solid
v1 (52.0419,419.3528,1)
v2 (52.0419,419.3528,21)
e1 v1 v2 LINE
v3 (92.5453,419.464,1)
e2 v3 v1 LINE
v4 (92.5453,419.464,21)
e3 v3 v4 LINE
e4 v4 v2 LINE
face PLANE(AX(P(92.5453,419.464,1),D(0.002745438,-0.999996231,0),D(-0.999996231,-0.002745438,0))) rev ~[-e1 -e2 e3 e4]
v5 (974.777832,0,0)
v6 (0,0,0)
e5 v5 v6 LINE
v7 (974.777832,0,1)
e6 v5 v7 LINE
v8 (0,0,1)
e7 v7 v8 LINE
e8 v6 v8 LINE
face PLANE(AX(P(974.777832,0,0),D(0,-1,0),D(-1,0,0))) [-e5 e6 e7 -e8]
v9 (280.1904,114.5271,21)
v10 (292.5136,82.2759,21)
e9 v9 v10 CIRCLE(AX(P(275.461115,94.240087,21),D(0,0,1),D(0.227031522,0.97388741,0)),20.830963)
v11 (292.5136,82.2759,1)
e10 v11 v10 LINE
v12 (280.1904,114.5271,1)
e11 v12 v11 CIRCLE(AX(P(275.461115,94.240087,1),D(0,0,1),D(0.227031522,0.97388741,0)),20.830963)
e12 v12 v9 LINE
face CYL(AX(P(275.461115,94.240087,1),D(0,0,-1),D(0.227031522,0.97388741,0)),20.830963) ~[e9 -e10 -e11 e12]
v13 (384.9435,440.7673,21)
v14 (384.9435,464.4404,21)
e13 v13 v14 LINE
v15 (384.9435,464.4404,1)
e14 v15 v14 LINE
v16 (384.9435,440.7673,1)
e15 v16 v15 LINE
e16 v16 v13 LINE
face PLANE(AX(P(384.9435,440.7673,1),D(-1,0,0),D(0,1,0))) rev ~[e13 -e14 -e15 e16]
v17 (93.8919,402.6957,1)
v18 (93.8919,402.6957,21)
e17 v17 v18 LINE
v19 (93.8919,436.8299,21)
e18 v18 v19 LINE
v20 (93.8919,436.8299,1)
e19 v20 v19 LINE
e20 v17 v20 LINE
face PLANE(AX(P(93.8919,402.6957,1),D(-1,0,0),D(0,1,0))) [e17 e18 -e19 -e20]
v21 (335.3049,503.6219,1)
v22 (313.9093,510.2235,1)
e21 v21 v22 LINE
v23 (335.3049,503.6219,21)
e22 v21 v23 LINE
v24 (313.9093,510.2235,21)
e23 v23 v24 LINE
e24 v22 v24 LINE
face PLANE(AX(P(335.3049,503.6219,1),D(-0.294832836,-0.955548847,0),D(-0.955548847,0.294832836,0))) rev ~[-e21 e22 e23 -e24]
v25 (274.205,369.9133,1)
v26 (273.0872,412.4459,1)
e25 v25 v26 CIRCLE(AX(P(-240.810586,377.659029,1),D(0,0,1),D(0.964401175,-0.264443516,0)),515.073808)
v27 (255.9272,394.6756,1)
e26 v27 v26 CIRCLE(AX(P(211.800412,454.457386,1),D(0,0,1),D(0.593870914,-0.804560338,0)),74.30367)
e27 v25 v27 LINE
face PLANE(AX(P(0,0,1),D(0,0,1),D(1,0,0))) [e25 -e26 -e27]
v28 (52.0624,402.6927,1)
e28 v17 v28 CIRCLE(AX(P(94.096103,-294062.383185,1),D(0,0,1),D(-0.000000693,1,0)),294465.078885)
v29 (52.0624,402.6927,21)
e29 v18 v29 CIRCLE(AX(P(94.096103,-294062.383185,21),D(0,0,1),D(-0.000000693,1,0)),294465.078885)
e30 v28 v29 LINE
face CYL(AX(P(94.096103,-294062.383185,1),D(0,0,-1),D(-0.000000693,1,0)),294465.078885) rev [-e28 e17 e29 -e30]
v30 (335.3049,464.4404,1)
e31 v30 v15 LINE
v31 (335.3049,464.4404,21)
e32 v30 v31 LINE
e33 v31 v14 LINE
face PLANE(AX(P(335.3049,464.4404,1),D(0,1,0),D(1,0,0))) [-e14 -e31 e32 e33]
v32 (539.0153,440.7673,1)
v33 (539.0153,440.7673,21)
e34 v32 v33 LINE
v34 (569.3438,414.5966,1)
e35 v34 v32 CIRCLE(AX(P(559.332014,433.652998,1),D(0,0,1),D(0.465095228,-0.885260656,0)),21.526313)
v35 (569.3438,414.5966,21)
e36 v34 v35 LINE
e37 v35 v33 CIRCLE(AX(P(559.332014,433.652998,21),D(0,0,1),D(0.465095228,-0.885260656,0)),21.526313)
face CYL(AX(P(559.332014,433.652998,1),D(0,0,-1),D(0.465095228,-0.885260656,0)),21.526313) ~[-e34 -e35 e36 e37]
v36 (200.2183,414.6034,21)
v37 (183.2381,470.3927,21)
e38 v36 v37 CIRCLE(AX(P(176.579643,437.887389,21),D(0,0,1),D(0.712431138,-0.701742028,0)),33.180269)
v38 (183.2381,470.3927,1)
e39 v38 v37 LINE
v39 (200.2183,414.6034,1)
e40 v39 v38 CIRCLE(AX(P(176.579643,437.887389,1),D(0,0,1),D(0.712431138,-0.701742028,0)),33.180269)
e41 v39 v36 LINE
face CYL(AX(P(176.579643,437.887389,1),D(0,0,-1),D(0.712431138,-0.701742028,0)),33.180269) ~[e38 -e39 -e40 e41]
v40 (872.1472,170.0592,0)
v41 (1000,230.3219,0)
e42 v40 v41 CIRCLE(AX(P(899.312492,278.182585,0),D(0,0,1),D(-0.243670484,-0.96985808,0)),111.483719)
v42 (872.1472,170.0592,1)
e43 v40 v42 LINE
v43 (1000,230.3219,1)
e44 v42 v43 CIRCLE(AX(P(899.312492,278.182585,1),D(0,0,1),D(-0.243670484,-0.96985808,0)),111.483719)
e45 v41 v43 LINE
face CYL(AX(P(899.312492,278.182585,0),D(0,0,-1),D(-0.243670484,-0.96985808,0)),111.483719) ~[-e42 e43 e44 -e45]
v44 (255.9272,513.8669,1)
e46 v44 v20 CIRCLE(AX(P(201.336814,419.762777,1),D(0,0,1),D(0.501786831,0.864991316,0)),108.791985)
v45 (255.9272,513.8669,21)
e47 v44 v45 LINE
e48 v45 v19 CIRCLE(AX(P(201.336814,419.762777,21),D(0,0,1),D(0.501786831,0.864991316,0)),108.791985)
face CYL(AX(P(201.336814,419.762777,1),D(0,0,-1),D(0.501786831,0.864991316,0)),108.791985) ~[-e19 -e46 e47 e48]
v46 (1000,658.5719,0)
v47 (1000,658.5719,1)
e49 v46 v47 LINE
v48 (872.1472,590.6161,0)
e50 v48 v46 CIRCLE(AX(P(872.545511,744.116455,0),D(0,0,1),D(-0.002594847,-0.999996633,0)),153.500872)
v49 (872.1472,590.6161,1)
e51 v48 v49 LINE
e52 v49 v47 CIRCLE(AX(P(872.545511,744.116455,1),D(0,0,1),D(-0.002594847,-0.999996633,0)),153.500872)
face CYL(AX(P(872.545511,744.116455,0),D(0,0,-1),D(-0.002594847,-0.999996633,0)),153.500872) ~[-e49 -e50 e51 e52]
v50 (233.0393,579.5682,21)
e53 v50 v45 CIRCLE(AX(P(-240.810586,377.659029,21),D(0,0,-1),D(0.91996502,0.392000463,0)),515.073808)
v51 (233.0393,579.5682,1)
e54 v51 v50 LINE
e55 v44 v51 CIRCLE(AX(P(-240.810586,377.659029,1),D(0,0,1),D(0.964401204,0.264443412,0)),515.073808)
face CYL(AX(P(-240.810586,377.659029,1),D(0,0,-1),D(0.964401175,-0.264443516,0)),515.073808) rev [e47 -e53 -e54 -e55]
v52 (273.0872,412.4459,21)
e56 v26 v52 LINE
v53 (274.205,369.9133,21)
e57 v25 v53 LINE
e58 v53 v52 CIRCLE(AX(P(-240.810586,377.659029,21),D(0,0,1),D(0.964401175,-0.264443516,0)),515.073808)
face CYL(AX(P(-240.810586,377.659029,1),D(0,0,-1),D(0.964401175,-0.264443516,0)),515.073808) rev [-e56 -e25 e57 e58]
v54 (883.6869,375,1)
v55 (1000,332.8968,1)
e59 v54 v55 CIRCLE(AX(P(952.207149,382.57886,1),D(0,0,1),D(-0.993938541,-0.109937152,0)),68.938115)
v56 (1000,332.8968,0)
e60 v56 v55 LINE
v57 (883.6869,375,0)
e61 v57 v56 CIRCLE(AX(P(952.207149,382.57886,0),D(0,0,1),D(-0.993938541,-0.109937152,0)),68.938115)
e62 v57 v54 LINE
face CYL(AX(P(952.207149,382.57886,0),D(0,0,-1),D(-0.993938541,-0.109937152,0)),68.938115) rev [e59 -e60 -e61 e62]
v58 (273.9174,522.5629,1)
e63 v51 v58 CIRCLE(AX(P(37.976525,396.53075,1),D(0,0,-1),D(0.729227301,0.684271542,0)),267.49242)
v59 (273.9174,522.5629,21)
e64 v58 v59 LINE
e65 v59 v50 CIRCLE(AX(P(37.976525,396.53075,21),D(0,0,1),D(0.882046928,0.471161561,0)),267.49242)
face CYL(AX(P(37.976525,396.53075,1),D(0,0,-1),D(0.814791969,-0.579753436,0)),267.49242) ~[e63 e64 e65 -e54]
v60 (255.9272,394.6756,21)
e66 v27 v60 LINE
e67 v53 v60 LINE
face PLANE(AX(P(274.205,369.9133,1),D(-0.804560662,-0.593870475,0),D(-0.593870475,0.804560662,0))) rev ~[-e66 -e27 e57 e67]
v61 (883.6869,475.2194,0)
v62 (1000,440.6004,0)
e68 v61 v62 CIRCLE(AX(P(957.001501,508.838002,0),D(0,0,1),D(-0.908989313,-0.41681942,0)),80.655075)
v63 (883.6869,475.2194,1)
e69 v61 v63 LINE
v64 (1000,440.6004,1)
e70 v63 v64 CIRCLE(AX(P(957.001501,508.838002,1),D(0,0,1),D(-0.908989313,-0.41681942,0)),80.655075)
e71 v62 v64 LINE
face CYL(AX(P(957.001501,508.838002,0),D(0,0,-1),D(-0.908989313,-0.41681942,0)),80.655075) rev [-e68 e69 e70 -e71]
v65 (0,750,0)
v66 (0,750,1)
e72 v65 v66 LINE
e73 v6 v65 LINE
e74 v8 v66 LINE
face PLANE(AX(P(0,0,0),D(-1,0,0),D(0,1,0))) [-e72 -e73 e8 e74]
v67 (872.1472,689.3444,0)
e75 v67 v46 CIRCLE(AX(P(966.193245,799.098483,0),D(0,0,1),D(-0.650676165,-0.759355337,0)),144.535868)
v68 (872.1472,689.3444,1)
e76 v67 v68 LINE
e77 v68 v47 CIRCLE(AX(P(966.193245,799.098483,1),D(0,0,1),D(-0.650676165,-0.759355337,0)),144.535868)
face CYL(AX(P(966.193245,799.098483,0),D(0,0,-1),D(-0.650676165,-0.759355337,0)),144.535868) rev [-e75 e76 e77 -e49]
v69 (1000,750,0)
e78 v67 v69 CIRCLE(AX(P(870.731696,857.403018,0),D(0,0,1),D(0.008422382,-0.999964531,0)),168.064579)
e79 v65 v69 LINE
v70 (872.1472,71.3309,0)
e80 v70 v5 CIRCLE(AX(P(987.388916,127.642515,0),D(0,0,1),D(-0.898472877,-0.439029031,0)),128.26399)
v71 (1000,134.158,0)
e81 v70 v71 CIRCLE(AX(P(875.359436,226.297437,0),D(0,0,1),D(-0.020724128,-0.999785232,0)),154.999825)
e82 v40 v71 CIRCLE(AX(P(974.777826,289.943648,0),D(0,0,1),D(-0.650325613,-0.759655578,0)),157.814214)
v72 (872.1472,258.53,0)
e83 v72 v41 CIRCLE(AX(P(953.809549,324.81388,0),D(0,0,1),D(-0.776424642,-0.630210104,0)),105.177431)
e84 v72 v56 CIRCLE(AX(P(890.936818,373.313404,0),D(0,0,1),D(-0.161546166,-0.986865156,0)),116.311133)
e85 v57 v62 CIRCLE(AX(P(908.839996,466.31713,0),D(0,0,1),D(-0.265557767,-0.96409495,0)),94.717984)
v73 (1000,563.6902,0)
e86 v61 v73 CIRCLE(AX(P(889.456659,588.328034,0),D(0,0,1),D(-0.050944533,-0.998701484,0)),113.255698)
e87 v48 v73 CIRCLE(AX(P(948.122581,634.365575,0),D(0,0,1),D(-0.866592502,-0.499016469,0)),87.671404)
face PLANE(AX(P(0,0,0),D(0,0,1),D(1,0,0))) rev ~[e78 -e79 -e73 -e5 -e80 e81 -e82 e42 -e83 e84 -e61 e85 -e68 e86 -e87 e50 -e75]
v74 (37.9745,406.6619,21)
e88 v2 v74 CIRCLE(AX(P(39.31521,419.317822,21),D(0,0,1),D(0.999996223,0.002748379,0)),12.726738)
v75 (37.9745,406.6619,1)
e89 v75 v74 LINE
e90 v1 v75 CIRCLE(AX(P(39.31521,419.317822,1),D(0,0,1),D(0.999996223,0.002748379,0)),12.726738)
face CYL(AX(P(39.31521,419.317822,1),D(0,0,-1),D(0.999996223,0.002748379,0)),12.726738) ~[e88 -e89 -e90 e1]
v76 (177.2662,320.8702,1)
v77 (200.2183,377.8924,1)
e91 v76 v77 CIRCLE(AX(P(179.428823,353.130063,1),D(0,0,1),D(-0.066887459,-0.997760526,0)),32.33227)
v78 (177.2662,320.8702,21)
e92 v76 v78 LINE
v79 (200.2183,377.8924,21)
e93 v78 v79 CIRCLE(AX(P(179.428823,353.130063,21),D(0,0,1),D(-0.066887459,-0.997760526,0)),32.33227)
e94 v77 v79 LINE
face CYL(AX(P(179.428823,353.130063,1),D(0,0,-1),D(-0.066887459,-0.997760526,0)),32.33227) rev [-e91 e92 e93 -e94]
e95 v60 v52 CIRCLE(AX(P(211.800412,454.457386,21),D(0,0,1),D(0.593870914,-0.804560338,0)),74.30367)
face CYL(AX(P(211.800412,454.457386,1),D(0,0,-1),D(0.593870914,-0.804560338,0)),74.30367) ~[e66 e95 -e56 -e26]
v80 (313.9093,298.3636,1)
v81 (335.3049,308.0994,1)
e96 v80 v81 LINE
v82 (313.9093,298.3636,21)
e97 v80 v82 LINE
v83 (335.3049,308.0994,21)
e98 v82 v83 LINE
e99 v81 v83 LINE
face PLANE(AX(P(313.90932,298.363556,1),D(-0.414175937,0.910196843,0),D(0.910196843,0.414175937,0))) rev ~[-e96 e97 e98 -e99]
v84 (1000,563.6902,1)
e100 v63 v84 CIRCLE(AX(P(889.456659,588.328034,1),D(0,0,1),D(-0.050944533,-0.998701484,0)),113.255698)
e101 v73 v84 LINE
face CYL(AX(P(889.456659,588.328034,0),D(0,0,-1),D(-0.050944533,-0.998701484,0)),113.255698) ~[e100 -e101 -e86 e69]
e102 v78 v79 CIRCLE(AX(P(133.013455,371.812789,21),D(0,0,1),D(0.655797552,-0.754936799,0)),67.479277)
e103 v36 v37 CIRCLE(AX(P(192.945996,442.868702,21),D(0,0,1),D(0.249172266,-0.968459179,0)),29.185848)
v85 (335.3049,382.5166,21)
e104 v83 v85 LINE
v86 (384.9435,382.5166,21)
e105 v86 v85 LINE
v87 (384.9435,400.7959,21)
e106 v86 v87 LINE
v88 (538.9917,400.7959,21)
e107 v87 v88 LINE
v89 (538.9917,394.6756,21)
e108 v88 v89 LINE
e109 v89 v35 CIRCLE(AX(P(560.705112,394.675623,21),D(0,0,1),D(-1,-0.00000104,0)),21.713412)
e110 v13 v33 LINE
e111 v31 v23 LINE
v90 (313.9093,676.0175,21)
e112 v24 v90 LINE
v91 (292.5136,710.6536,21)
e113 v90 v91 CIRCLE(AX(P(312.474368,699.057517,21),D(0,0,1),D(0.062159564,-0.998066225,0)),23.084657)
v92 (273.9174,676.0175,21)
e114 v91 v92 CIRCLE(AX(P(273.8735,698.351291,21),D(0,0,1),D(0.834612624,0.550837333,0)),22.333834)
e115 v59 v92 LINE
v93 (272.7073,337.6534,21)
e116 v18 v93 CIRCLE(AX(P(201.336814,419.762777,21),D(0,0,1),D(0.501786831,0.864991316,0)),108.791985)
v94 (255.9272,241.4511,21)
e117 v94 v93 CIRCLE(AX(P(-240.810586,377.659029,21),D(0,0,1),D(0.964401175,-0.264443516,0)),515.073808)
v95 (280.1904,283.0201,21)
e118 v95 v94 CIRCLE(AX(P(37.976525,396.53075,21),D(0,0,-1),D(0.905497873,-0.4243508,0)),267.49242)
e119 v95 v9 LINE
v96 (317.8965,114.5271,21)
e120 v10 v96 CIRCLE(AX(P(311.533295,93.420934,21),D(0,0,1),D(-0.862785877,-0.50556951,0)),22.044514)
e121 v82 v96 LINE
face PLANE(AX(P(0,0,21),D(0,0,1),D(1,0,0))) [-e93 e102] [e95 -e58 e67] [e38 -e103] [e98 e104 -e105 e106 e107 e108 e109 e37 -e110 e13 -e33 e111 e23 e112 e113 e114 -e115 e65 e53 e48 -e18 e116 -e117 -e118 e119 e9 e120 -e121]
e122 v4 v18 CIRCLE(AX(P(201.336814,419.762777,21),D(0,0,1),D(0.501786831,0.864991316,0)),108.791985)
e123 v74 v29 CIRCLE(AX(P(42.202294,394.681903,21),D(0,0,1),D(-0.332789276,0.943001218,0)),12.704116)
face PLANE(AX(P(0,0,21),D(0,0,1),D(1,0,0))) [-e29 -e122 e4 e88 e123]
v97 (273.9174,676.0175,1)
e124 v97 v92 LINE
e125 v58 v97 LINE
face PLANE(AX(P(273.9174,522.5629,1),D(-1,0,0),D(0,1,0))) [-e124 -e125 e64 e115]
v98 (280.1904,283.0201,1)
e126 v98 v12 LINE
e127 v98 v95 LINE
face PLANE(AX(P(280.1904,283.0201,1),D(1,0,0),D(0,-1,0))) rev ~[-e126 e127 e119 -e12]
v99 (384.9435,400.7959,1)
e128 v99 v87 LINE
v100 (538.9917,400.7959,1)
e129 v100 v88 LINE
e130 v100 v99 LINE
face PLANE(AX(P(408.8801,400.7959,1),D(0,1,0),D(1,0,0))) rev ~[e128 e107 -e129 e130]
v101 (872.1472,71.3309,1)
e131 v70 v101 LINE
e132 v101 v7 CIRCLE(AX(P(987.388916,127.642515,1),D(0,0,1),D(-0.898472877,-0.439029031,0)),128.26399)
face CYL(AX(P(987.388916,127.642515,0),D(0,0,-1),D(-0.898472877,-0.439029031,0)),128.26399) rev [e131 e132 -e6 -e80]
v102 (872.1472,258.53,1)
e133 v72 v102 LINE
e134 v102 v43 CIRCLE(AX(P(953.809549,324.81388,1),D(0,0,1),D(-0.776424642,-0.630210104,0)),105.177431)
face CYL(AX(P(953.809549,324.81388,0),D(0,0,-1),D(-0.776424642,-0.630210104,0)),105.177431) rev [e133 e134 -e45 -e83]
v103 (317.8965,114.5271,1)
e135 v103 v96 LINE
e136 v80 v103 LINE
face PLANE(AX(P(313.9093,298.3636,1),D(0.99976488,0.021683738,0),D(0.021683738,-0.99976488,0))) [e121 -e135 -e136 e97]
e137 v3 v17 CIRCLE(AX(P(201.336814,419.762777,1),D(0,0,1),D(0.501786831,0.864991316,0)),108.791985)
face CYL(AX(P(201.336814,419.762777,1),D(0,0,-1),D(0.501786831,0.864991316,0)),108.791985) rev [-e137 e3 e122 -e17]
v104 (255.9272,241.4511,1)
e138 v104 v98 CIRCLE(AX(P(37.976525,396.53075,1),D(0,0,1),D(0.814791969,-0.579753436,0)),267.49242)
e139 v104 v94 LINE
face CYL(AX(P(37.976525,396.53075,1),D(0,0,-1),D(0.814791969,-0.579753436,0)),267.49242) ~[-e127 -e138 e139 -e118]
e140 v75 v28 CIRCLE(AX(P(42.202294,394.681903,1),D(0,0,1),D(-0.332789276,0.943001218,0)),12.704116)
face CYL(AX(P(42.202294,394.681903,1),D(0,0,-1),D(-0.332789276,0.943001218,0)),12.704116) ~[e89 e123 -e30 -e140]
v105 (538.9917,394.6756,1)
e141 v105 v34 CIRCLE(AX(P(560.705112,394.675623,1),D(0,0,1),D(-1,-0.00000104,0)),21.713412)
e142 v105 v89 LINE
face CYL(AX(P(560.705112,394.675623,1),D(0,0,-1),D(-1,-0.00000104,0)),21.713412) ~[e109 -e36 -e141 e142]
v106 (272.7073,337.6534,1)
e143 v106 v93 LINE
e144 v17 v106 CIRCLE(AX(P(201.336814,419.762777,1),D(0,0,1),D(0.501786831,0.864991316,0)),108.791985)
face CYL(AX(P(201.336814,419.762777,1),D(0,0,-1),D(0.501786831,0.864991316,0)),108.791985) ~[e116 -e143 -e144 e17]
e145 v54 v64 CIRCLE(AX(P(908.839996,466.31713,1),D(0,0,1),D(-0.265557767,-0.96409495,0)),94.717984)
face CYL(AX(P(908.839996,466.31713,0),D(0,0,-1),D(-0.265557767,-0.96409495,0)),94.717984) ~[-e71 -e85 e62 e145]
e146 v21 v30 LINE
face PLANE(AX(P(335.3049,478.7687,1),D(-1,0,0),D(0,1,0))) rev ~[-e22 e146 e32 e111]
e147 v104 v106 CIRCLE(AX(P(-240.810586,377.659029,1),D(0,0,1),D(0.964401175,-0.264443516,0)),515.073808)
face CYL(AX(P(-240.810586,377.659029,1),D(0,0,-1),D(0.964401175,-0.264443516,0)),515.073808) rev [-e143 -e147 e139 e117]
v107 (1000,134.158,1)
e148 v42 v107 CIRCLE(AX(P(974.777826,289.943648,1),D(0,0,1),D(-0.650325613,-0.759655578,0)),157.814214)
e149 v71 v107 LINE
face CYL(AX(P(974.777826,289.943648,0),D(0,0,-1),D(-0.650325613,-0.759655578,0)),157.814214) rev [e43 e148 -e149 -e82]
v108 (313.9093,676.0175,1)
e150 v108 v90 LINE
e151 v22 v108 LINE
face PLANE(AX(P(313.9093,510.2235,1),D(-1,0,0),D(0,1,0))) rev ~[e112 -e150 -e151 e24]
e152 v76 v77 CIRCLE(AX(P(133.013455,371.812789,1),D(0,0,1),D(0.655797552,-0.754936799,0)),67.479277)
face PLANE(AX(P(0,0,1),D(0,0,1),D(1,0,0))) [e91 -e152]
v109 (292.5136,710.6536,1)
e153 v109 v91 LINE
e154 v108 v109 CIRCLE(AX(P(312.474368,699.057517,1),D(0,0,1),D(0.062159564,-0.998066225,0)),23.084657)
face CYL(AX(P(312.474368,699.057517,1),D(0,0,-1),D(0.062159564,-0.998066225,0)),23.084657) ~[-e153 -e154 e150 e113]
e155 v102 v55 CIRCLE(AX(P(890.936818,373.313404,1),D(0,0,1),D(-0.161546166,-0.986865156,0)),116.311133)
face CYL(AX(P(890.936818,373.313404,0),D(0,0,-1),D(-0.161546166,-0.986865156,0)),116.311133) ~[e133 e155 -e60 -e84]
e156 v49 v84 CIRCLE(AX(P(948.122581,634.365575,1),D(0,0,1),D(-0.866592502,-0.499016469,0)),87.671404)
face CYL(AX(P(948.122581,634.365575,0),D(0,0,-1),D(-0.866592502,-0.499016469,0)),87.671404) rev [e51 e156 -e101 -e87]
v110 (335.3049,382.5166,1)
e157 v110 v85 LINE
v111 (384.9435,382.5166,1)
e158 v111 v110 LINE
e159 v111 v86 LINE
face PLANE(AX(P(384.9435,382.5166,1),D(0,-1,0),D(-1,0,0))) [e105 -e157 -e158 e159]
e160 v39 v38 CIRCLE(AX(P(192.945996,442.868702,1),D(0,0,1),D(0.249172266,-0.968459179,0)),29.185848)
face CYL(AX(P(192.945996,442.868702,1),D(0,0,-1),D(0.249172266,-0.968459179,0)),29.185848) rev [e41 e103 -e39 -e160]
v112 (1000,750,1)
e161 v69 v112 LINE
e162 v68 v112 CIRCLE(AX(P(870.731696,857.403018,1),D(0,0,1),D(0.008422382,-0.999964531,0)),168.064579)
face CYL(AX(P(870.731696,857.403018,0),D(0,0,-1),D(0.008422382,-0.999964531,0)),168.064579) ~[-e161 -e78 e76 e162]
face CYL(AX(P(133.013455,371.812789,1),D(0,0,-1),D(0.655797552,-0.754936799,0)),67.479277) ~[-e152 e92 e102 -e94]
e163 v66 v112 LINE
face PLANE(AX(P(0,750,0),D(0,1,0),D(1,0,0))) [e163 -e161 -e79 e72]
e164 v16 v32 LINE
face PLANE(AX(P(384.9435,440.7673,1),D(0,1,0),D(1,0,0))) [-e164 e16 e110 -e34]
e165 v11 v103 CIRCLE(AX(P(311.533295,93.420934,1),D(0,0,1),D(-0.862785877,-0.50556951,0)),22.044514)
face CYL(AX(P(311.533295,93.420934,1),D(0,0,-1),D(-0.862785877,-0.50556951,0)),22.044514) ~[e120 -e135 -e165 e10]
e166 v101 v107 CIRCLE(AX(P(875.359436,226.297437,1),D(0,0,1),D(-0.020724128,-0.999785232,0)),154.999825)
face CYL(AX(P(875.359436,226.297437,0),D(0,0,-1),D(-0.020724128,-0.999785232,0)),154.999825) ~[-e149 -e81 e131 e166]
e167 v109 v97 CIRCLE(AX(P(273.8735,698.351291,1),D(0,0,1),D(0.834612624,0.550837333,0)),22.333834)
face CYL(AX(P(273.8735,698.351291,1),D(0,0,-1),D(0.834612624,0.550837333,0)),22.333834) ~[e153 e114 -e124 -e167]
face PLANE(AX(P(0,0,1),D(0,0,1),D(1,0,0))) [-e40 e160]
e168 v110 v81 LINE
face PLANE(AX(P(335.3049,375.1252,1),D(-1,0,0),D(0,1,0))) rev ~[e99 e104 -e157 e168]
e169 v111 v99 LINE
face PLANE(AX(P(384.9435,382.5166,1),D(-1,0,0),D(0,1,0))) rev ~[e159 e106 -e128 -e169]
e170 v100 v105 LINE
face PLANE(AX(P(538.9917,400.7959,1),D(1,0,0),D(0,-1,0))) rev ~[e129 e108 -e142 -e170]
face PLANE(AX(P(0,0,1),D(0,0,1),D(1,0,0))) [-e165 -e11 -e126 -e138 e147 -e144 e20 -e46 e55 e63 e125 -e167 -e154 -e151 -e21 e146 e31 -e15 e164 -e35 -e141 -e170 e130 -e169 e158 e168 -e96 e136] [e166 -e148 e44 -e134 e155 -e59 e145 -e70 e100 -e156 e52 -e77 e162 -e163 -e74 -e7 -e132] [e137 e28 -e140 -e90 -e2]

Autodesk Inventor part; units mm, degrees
ref_plane "YZ Plane" through (0, 0, 0) normal (1, 0, 0) x (0, 1, 0)
ref_plane "XZ Plane" through (0, 0, 0) normal (0, 1, 0) x (-1, 0, 0)
ref_plane "XY Plane" through (0, 0, 0) normal (0, 0, 1) x (1, 0, 0)
sketch "Sketch1" plane through (0, 0, 0) normal (0, 0, 1) x (1, 0, 0)
  point P0 (0, 0)
sketch "Sketch2" plane through (0, 0, 0) normal (0, 0, 1) x (1, 0, 0)
  line L0 (0, 0) -> (0, 750)
  line L1 (0, 750) -> (1000, 750)
  line L2 (1000, 0) -> (0, 0)
  arc A0 (872.1472, 689.3444) -> (1000, 750) centre (870.7317, 857.403) ccw
  arc A1 (872.1472, 689.3444) -> (1000, 658.5719) centre (966.1931, 799.0982) ccw
  arc A2 (872.1472, 590.6161) -> (1000, 658.5719) centre (872.5455, 744.1165) ccw
  arc A3 (872.1472, 590.6161) -> (1000, 563.6902) centre (948.1226, 634.3656) ccw
  arc A4 (883.6869, 475.2194) -> (1000, 563.6902) centre (889.4567, 588.3279) ccw
  arc A5 (883.6869, 475.2194) -> (1000, 440.6004) centre (957.0015, 508.838) ccw
  arc A6 (883.6869, 375) -> (1000, 440.6004) centre (908.84, 466.3171) ccw
  arc A7 (883.6869, 375) -> (1000, 332.8968) centre (952.2072, 382.5789) ccw
  arc A8 (872.1472, 258.53) -> (1000, 332.8968) centre (890.9368, 373.3135) ccw
  arc A9 (872.1472, 258.53) -> (1000, 230.3219) centre (953.8095, 324.8138) ccw
  arc A10 (872.1472, 170.0592) -> (1000, 230.3219) centre (899.3125, 278.1825) ccw
  arc A11 (872.1472, 170.0592) -> (1000, 134.158) centre (974.7778, 289.9436) ccw
  arc A12 (872.1472, 71.3309) -> (1000, 134.158) centre (875.3594, 226.2976) ccw
  arc A13 (872.1472, 71.3309) -> (1000, 0) centre (987.3889, 127.6425) ccw
  point P0 (974.7778, 0)
  dimension "d0" = 1000
  dimension "d1" = 750
extrude "Extrusion1" add sketch "Sketch2" along normal blind 1 contours L0 L1 A0 A1 A2 A3 A4 A5 A6 A7 A8 A9 A10 A11 A12 A13 L2
sketch "Sketch3" plane through (0, 0, 1) normal (0, 0, 1) x (1, 0, 0)
  arc A0 (255.9272, 241.4511) -> (233.0393, 579.5682) centre (37.9767, 396.5307) ccw
  arc A1 (255.9272, 241.4511) -> (233.0393, 579.5682) centre (-240.8103, 377.659) ccw
  line L0 (271.4534, 431.3865) -> (273.9174, 432.6014)
  line L1 (280.1904, 283.0201) -> (335.3049, 308.0994)
  line L2 (335.3049, 308.0994) -> (335.3049, 503.6219)
  line L3 (335.3049, 503.6219) -> (273.9174, 522.5629)
  line L4 (304.6112, 375.1252) -> (335.3049, 375.1252)
  line L5 (304.8582, 414.5966) -> (335.3049, 414.5966)
  line L6 (300.4881, 447.9105) -> (335.3049, 454.725)
  line L7 (300.4881, 345.151) -> (335.3049, 345.151)
  line L8 (335.3049, 308.0994) -> (290.4287, 308.0994)
  line L9 (335.3049, 478.7687) -> (292.5136, 478.7687)
  line L10 (398.8359, 328.3286) -> (401.8332, 328.3268)
  line L11 (401.8332, 328.3678) -> (401.8332, 328.3268)
  line L12 (335.3049, 464.4404) -> (384.9435, 464.4404)
  line L13 (384.9435, 464.4404) -> (384.9435, 464.4404)
  line L14 (384.9435, 382.5166) -> (335.3049, 382.5166)
  line L15 (384.9435, 382.5166) -> (384.9435, 464.4404)
  line L16 (273.9174, 522.5629) -> (273.9174, 676.0175)
  line L17 (313.9093, 510.2235) -> (313.9093, 676.0175)
  line L18 (280.1904, 283.0201) -> (280.1904, 114.5271)
  line L19 (313.9093, 298.3636) -> (317.8965, 114.5271)
  line L20 (384.9435, 440.7673) -> (539.0153, 440.7673)
  line L21 (384.9435, 400.7959) -> (538.9917, 400.7959)
  line L22 (538.9917, 400.7959) -> (538.9917, 394.6756)
  arc A2 (292.5136, 710.6536) -> (273.9174, 676.0175) centre (273.8735, 698.3513) ccw
  arc A3 (313.9093, 676.0175) -> (292.5136, 710.6536) centre (312.4744, 699.0575) ccw
  arc A4 (280.1904, 114.5271) -> (292.5136, 82.2759) centre (275.4611, 94.2401) ccw
  arc A5 (292.5136, 82.2759) -> (317.8965, 114.5271) centre (311.5333, 93.421) ccw
  arc A6 (569.3438, 414.5966) -> (539.0153, 440.7673) centre (559.332, 433.653) ccw
  arc A7 (538.9917, 394.6756) -> (569.3438, 414.5966) centre (560.7051, 394.6756) ccw
  arc A8 (119.3978, 413.2034) -> (119.4326, 412.4736) centre (255.9272, 419.3527) ccw
  arc A9 (408.8801, 400.7959) -> (409.9282, 414.5966) centre (255.9272, 419.3527) ccw
  arc A10 (239.4049, 572.5387) -> (236.132, 572.1502) centre (255.9272, 419.3527) ccw
  arc A11 (271.4961, 266.0669) -> (273.9174, 266.3322) centre (255.9272, 419.3527) ccw
  arc A12 (255.9272, 513.8669) -> (272.7073, 337.6534) centre (201.3368, 419.7628) ccw
  arc A13 (177.2662, 320.8702) -> (200.2183, 377.8924) centre (133.0133, 371.8129) ccw
  arc A14 (177.2662, 320.8702) -> (200.2183, 377.8924) centre (179.4288, 353.1301) ccw
  arc A15 (200.2183, 414.6034) -> (183.2381, 470.3927) centre (176.5796, 437.8874) ccw
  arc A16 (200.2183, 414.6034) -> (183.2381, 470.3927) centre (192.946, 442.8687) ccw
  line L23 (274.205, 369.9133) -> (255.9272, 394.6756)
  arc A17 (255.9272, 394.6756) -> (273.0872, 412.4459) centre (211.8011, 454.4566) ccw
  line L24 (92.5453, 419.464) -> (52.0419, 419.3528)
  line L25 (52.0419, 419.3528) -> (52.0586, 413.2472)
  line L26 (93.8919, 402.6957) -> (93.8919, 436.8299)
  arc A18 (93.8919, 402.6957) -> (52.0624, 402.6927) centre (93.8919, -288422.4778) ccw
  line L27 (52.0624, 402.6927) -> (52.0624, 402.6927)
  arc A19 (37.9745, 406.6619) -> (52.0624, 402.6927) centre (42.2022, 394.6819) ccw
  arc A20 (52.0419, 419.3528) -> (37.9745, 406.6619) centre (39.3152, 419.3178) ccw
  point P0 (0, 0)
extrude "Extrusion2" add sketch "Sketch3" along normal blind 20 contours A1 A10 A0 | A12 L26 A1 A17 L23 | A0 L8 L1 | L1 L19 A5 A4 L18 | A18 A19 A20 L24 A12 | A0 L7 L2 L8 | A0 L4 L2 L7 | A0 L5 L2 L4 | A1 A0 A10 | A0 L6 L2 L5 | A0 L9 L2 L6 | L2 L12 L15 L14 | L3 L2 L9 A0 | L16 A2 A3 L17 L3 | L15 L20 A6 A7 L22 L21
properties part number "flag of ship pirate"
